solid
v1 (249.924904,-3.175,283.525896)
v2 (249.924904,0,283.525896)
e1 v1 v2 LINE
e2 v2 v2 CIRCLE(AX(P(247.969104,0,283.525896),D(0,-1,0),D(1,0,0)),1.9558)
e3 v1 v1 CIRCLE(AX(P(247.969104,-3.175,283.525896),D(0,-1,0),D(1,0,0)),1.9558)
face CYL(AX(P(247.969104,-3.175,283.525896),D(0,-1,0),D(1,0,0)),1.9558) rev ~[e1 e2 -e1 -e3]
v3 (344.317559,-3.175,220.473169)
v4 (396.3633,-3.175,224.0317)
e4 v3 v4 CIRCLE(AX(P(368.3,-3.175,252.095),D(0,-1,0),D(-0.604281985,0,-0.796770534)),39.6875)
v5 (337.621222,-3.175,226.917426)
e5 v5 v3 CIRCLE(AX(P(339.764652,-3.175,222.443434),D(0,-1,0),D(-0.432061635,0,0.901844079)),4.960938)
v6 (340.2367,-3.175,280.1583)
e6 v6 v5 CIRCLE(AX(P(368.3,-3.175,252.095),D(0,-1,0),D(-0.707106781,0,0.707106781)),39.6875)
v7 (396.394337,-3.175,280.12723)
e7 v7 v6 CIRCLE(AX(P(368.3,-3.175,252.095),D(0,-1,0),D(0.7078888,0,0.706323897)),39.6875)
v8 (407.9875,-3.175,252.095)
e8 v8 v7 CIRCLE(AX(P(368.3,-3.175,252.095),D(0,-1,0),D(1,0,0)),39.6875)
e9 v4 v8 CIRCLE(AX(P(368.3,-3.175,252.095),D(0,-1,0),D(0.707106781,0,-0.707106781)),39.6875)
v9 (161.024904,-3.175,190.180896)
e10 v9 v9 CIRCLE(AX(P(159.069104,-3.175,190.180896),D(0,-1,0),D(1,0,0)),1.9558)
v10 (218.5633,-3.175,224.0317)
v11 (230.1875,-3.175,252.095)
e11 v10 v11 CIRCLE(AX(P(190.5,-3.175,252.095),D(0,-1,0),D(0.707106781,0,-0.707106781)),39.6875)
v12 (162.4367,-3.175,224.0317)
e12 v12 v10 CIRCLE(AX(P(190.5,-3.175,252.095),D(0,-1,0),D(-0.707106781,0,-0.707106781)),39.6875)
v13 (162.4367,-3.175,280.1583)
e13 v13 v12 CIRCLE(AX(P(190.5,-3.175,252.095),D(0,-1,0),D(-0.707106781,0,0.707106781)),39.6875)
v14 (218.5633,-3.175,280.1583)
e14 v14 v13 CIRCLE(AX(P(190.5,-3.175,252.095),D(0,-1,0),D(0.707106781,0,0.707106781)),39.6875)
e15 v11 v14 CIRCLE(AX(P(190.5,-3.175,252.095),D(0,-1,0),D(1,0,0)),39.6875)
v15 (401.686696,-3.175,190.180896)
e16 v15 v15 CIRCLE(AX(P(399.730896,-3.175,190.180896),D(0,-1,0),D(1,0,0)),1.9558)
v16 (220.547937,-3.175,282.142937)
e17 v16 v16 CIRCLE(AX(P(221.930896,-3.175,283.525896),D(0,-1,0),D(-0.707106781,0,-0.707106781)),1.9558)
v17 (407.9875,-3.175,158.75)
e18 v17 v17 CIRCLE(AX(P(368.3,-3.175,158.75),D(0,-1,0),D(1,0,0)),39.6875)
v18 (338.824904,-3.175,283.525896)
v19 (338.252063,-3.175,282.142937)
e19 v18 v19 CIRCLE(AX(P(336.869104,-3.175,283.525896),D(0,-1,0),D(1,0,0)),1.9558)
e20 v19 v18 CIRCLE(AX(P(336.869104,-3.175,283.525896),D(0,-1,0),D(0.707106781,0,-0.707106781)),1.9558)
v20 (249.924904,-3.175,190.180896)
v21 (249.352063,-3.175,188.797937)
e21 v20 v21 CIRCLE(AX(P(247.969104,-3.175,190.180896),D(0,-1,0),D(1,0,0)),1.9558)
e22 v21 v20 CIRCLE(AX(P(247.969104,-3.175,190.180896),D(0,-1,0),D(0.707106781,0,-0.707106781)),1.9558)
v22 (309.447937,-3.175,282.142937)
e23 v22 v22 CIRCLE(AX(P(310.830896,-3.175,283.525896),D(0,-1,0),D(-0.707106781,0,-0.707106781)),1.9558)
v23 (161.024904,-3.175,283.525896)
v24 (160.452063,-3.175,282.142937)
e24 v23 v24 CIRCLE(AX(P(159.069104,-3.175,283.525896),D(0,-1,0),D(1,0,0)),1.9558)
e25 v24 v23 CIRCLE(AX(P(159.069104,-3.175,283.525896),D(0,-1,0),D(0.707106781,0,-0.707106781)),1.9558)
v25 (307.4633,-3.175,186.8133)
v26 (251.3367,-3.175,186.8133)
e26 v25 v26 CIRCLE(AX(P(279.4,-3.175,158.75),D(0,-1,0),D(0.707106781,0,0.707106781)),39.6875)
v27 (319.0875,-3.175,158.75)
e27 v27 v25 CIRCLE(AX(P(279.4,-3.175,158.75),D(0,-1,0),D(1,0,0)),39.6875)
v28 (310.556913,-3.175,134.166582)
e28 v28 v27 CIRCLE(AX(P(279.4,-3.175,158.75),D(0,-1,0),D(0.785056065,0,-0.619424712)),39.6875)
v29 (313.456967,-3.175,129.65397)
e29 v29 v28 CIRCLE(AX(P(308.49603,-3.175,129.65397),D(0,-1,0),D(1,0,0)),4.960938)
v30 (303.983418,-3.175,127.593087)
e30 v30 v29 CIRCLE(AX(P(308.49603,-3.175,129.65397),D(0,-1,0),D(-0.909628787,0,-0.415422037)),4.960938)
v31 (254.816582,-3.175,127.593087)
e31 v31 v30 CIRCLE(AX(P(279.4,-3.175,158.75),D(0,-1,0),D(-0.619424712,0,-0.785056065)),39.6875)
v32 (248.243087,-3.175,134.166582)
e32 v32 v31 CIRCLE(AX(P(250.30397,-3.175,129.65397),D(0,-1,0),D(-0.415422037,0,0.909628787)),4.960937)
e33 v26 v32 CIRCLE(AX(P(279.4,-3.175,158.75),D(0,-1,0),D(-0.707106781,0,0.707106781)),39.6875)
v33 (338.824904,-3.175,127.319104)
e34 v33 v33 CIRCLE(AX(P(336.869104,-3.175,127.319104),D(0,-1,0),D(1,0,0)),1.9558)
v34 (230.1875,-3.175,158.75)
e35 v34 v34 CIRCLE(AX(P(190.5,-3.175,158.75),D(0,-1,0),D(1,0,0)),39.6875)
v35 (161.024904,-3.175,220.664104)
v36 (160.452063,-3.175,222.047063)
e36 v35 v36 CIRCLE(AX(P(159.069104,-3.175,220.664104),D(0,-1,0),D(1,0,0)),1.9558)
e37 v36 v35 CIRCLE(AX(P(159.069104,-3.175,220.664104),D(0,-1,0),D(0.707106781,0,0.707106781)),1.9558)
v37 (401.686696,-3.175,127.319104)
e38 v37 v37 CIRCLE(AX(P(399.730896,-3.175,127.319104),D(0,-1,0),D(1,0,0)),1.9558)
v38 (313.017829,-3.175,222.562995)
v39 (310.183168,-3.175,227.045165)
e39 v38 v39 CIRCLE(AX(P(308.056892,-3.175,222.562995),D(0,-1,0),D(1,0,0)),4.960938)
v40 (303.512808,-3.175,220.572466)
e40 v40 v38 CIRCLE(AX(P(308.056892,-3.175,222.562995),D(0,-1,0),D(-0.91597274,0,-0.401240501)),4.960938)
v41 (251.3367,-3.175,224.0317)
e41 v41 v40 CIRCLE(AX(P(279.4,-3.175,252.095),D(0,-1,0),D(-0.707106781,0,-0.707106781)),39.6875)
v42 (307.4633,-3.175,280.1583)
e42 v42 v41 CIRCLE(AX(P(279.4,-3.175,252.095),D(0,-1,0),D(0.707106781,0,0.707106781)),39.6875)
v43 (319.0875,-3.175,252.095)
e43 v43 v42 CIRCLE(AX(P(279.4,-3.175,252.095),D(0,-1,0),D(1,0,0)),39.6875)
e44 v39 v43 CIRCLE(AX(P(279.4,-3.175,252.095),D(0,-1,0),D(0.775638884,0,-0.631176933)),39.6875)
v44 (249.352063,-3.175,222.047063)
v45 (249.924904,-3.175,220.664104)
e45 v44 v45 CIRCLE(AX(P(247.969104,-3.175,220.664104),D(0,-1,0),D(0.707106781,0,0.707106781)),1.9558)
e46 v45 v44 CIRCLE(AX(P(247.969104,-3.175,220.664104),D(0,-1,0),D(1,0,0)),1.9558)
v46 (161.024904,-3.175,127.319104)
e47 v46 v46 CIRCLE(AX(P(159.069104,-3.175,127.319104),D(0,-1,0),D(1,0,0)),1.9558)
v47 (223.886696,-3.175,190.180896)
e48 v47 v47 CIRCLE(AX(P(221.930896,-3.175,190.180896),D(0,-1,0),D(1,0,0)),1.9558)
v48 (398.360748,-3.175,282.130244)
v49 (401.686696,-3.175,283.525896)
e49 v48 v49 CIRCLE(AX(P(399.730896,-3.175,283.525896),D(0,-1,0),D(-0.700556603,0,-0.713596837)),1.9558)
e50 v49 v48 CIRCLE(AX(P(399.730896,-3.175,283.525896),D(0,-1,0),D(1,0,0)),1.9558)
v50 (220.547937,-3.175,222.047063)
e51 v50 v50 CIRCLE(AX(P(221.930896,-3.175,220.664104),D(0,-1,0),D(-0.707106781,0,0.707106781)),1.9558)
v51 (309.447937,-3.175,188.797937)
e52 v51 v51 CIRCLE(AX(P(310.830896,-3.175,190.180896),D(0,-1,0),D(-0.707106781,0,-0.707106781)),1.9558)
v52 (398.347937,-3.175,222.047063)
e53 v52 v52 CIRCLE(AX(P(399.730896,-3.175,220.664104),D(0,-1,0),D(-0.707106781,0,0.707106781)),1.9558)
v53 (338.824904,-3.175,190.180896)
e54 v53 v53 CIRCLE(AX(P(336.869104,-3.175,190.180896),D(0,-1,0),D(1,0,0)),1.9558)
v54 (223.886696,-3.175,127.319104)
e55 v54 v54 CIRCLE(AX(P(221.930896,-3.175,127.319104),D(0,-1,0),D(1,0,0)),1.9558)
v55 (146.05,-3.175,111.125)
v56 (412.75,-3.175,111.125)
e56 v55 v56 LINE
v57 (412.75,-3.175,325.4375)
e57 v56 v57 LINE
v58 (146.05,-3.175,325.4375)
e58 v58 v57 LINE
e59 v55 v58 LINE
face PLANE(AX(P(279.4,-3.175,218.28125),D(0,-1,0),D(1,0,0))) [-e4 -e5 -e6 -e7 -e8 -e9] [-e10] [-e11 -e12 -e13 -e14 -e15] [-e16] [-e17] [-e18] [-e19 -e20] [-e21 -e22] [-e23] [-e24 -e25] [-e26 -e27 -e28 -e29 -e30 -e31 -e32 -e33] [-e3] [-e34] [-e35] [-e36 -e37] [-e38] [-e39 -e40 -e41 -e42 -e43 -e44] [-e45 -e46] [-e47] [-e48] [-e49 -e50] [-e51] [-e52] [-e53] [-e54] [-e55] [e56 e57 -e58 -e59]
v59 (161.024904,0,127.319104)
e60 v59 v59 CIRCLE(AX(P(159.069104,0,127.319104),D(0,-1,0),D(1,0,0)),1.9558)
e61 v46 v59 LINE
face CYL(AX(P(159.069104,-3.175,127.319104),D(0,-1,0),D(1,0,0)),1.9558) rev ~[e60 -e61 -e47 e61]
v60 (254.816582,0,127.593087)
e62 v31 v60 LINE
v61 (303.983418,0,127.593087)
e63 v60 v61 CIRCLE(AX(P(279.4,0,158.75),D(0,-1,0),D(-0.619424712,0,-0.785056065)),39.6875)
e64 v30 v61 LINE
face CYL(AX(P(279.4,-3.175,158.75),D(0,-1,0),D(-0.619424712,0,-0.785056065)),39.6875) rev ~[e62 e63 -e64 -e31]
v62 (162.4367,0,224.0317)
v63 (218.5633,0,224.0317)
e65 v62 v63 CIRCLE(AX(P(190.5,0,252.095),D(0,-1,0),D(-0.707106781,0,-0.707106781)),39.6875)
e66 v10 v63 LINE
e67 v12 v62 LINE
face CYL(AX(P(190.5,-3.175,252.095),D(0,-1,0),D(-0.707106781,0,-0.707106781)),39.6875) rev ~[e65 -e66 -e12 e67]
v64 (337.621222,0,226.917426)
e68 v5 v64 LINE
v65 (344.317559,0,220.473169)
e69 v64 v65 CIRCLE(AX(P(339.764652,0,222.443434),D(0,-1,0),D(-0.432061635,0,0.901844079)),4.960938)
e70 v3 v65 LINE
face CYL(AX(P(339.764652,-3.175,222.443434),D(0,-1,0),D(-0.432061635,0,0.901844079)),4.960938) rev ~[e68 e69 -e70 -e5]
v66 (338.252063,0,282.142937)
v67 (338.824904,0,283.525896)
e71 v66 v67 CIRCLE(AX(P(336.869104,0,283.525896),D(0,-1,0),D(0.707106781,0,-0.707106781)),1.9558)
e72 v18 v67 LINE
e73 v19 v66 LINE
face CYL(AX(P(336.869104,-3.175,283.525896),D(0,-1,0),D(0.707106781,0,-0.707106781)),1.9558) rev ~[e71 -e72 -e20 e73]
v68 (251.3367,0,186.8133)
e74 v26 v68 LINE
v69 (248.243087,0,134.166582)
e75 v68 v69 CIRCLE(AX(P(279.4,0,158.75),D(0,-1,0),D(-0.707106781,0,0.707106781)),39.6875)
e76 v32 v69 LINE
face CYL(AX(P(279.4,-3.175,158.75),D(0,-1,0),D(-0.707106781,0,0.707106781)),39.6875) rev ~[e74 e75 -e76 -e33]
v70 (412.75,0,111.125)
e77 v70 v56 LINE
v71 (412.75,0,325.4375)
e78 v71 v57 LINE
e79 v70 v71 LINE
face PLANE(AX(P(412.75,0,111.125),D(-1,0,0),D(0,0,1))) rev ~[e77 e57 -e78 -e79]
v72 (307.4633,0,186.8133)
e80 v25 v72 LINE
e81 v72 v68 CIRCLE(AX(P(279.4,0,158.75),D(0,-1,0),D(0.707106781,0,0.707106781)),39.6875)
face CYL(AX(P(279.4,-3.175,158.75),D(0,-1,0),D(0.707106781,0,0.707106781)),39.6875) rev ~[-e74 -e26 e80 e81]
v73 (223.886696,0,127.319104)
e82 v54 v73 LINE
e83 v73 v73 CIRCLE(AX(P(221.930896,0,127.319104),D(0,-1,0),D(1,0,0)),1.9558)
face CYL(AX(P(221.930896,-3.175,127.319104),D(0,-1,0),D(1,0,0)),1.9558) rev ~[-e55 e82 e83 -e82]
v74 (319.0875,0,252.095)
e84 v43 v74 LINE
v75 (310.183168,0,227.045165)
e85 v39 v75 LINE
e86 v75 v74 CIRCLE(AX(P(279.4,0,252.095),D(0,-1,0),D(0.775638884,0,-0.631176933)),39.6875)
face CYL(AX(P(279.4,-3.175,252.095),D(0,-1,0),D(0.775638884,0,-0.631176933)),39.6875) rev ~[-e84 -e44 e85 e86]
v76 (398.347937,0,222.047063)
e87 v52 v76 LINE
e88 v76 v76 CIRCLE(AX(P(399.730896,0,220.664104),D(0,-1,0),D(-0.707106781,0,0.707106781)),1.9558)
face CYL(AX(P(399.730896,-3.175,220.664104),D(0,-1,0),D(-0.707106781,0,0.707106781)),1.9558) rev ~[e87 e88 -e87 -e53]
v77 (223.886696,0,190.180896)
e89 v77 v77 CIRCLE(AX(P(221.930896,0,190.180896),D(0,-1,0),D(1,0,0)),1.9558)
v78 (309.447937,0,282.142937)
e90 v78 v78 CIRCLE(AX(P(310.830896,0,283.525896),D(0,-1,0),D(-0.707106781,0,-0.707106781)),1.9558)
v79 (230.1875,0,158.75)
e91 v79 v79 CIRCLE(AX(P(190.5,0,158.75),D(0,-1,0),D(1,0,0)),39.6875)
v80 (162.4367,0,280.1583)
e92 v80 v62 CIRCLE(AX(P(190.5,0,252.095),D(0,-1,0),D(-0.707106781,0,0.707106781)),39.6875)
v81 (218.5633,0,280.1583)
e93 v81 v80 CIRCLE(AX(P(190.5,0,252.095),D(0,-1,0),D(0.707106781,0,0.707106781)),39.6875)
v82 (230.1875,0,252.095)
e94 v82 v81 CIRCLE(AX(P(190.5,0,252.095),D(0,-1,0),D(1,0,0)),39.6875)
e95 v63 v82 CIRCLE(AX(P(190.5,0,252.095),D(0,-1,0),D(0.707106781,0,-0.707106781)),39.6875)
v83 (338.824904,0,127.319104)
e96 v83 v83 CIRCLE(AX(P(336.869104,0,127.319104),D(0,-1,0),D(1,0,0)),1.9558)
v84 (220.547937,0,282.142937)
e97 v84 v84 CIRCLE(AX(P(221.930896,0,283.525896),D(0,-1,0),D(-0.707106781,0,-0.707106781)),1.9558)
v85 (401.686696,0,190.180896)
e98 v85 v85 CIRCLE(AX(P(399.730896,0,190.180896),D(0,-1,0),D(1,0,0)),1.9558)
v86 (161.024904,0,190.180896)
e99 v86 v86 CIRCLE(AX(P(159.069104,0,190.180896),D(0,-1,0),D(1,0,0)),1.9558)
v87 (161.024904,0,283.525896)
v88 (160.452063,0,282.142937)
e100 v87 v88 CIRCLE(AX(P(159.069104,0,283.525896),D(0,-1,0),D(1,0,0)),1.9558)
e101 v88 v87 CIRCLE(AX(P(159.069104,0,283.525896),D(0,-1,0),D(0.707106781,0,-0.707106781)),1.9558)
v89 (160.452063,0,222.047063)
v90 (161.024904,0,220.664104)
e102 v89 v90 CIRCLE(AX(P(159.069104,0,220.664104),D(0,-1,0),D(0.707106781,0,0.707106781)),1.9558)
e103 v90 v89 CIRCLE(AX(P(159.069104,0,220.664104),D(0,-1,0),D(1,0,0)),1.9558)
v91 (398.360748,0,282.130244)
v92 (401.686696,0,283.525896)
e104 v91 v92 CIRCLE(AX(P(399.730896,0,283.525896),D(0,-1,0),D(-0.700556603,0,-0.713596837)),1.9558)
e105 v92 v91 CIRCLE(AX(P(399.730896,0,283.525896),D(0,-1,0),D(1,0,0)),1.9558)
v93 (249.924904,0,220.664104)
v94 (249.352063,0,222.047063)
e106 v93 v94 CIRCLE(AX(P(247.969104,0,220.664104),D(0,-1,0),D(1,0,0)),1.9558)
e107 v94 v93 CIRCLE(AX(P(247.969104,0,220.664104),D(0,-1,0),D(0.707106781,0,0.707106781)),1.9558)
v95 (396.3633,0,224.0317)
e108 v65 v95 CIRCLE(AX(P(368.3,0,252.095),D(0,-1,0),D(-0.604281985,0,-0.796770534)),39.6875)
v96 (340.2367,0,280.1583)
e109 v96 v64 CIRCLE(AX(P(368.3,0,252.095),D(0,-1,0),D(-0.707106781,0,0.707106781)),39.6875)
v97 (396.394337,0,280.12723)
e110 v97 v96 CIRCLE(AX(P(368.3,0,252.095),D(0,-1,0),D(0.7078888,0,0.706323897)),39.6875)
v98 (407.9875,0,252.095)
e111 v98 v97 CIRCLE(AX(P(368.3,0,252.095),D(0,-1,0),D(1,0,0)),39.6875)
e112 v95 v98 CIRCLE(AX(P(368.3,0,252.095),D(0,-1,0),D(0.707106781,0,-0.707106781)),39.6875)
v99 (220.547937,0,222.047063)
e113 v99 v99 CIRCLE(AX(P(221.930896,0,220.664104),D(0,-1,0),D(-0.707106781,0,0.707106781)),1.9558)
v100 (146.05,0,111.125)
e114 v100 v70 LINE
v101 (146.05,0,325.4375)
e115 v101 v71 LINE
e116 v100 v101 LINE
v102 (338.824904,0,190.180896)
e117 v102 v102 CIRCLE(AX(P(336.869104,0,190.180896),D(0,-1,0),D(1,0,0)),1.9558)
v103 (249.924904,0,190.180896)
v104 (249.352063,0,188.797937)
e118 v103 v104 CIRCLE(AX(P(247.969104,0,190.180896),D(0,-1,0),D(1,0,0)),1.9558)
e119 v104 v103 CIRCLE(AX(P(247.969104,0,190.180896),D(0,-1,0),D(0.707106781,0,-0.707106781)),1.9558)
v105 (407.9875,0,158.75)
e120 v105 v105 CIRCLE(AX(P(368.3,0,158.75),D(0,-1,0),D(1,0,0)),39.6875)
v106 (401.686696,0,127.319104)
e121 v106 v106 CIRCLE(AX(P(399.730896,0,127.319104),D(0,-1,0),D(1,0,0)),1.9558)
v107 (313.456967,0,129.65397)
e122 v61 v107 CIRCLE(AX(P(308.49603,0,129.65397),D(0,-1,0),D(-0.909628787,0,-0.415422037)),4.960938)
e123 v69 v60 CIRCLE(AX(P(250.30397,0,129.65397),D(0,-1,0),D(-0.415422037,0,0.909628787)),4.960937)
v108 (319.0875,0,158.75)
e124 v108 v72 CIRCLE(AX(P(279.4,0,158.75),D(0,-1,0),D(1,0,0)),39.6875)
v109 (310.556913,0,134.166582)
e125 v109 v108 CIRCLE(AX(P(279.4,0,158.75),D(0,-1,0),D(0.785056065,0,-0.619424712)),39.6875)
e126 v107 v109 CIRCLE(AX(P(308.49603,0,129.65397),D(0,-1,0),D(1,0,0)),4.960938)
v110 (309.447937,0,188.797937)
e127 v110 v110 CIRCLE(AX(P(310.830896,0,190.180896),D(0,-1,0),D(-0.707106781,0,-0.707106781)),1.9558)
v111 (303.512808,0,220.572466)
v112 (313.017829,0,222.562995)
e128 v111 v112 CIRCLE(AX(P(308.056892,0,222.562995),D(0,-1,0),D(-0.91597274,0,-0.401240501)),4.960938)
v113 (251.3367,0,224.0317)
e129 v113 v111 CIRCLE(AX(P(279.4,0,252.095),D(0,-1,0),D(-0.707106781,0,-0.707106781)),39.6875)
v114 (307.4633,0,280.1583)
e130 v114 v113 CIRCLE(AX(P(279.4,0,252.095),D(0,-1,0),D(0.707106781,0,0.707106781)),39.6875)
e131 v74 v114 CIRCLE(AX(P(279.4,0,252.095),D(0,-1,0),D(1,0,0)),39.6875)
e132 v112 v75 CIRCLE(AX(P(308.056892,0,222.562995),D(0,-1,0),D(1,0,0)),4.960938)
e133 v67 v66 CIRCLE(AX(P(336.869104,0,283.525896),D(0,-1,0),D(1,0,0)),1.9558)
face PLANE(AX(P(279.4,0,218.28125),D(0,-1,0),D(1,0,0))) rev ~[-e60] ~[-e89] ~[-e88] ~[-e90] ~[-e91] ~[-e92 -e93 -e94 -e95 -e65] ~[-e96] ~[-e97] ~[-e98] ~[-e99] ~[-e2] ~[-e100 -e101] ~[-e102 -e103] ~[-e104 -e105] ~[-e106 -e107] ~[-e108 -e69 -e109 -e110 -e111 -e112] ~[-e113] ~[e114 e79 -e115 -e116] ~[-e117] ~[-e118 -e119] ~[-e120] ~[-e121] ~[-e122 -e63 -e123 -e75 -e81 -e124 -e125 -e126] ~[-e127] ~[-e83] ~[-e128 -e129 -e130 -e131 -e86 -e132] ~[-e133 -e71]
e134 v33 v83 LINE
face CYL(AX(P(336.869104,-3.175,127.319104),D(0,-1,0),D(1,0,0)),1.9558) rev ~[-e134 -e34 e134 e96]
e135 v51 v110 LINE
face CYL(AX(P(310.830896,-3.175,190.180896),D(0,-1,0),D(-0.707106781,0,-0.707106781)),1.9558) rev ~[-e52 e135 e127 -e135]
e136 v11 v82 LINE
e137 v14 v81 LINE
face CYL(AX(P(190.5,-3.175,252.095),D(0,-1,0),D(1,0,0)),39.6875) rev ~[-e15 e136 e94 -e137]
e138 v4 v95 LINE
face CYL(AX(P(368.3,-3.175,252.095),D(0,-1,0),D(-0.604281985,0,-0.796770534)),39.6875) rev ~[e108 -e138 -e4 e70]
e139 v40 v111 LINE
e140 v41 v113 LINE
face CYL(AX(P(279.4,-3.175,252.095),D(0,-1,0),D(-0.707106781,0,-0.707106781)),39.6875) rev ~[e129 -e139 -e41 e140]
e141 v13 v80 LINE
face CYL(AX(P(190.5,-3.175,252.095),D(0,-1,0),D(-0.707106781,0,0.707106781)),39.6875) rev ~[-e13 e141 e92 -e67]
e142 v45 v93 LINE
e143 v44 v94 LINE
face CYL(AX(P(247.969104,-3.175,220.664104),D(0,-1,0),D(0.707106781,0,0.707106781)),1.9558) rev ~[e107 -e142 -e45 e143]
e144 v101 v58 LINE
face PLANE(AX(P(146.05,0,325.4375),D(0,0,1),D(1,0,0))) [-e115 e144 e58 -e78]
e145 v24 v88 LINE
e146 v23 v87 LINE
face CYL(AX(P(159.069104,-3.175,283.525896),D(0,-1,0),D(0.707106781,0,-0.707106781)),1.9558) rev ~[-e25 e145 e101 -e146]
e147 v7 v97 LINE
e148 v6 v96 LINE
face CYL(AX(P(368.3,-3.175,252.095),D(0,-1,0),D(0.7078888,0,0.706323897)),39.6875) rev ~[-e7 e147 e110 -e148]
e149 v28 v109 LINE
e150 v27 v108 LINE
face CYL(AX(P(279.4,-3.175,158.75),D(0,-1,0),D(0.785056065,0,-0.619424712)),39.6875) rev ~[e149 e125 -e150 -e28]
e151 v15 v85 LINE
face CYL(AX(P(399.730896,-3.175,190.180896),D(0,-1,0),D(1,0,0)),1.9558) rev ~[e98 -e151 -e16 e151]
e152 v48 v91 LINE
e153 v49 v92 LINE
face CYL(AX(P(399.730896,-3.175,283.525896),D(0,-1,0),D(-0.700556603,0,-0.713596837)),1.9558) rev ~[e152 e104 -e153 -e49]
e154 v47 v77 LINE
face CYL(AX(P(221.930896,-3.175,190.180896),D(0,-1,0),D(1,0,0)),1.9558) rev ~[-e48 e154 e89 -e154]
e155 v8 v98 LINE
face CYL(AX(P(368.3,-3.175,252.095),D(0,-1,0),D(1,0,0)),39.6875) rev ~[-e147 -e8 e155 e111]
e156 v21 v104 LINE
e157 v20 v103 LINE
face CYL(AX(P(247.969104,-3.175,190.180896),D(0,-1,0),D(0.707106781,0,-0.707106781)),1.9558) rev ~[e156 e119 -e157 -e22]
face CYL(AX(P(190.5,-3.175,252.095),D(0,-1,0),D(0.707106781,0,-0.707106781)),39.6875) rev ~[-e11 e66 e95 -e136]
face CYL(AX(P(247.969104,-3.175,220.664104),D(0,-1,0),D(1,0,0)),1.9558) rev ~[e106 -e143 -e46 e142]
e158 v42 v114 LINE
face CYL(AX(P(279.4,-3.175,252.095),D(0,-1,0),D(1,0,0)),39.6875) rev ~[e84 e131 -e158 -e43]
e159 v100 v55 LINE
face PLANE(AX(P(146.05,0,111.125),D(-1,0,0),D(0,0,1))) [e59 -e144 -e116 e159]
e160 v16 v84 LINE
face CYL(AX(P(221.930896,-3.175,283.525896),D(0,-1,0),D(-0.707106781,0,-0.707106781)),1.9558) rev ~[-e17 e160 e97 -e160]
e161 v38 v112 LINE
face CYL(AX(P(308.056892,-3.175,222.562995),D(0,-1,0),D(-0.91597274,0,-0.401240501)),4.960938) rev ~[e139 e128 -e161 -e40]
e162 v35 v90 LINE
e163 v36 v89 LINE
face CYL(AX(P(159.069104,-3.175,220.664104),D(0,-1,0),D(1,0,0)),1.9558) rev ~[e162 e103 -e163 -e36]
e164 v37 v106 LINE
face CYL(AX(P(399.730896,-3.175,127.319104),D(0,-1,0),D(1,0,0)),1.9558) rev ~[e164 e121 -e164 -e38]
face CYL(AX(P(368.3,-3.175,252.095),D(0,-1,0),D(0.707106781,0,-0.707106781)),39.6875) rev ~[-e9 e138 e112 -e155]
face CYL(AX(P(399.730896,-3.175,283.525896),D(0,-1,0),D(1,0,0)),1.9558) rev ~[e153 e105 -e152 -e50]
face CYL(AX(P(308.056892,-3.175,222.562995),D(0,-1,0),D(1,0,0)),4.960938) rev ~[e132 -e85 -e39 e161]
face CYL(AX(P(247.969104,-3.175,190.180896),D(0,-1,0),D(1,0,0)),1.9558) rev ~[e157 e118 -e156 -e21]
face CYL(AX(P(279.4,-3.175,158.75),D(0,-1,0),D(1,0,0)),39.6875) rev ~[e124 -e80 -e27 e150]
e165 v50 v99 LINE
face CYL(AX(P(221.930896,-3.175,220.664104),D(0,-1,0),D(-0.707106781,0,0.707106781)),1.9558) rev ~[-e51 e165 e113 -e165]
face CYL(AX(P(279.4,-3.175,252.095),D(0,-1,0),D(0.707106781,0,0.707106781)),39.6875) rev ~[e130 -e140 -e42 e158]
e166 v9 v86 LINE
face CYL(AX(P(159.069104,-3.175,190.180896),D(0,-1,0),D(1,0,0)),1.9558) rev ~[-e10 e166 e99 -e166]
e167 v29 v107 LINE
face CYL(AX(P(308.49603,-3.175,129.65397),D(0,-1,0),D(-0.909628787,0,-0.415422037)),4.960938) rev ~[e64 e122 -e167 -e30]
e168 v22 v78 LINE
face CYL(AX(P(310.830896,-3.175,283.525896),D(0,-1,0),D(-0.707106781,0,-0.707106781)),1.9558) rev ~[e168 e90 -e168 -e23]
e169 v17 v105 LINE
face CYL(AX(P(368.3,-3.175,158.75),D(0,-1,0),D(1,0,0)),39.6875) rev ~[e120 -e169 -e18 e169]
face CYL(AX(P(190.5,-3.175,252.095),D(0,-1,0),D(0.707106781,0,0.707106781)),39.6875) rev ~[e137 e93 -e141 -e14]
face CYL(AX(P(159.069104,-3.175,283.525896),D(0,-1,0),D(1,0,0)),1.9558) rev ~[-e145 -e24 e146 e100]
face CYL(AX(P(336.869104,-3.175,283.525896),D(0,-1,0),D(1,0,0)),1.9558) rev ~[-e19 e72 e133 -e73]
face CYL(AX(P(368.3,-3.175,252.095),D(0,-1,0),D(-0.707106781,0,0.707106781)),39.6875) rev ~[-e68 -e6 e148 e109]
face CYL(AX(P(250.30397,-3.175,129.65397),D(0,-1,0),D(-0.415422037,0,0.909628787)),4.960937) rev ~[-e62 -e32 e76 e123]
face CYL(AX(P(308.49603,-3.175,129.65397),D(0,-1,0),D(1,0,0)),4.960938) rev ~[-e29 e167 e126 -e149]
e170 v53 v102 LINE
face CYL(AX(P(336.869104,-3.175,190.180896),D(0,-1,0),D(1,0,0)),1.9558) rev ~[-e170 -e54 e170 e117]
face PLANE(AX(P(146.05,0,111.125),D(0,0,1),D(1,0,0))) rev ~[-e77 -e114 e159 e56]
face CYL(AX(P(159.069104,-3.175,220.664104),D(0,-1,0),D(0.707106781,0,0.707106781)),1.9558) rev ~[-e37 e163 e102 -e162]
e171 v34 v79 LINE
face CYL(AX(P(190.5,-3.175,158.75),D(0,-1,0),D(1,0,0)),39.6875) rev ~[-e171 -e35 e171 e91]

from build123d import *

# Parameters (mm, degrees)
F0_W     = 266.7
F0_H     = 214.3125
F2_DEPTH = 3.175
F3_R     = 39.6875
F3_R_2   = 1.9558
F4_DEPTH = 3.175


with BuildPart() as f2:
    # F0 (on Front) → F2 (new body)
    with BuildSketch(Plane.XZ):
        with Locations((279.4, 218.28125)):
            Rectangle(F0_W, F0_H)
    extrude(amount=F2_DEPTH)

    # F3 (on face) → F4 (cut)
    with BuildSketch(Plane.XZ.offset(3.175)):
        with BuildLine():
            Line((279.4, 158.75), (251.3366996217, 186.8133003783))
            ThreePointArc((251.3366996217, 186.8133003783), (239.7808423583, 161.0780902065), (248.2430874051, 134.1665817306))
            ThreePointArc((248.2430874051, 134.1665817306), (251.1847816274, 134.5360877464), (253.811882715, 133.161882715))
            Line((253.811882715, 133.161882715), (279.4, 158.75))
        make_face()
        with BuildLine():
            Line((279.4, 158.75), (307.4633003783, 186.8133003783))
            ThreePointArc((307.4633003783, 186.8133003783), (279.4, 198.4375), (251.3366996217, 186.8133003783))
            Line((251.3366996217, 186.8133003783), (279.4, 158.75))
        make_face()
        with BuildLine():
            Line((190.5, 252.095), (218.5633003783, 280.1583003783))
            ThreePointArc((218.5633003783, 280.1583003783), (190.5, 291.7825), (162.4366996217, 280.1583003783))
            Line((162.4366996217, 280.1583003783), (190.5, 252.095))
        make_face()
        with BuildLine():
            Line((190.5, 252.095), (162.4366996217, 280.1583003783))
            ThreePointArc((162.4366996217, 280.1583003783), (150.8125, 252.095), (162.4366996217, 224.0316996217))
            Line((162.4366996217, 224.0316996217), (190.5, 252.095))
        make_face()
        with BuildLine():
            ThreePointArc((162.4366996217, 224.0316996217), (190.5, 212.4075), (218.5633003783, 224.0316996217))
            Line((218.5633003783, 224.0316996217), (190.5, 252.095))
            Line((190.5, 252.095), (162.4366996217, 224.0316996217))
        make_face()
        with BuildLine():
            ThreePointArc((218.5633003783, 224.0316996217), (227.1664689465, 236.907251278), (230.1875, 252.095))
            ThreePointArc((230.1875, 252.095), (227.1664689465, 267.282748722), (218.5633003783, 280.1583003783))
            Line((218.5633003783, 280.1583003783), (190.5, 252.095))
            Line((190.5, 252.095), (218.5633003783, 224.0316996217))
        make_face()
        with Locations((368.3, 158.75)):
            Circle(F3_R)
        with BuildLine():
            ThreePointArc((310.1831682173, 227.0451654545), (316.7952179087, 238.8023202922), (319.0875, 252.095))
            ThreePointArc((319.0875, 252.095), (316.0664689465, 267.282748722), (307.4633003783, 280.1583003783))
            Line((307.4633003783, 280.1583003783), (251.3366996217, 224.0316996217))
            ThreePointArc((251.3366996217, 224.0316996217), (276.7745151129, 212.4944383202), (303.5128082548, 220.5724662453))
            ThreePointArc((303.5128082548, 220.5724662453), (304.6021260005, 226.1232613468), (310.1831682173, 227.0451654545))
        make_face()
        with BuildLine():
            ThreePointArc((313.017829269, 222.5629952944), (312.2496966444, 225.2146529185), (310.1831682173, 227.0451654545))
            ThreePointArc((310.1831682173, 227.0451654545), (307.0381261479, 223.6128715809), (303.5128082548, 220.5724662453))
            ThreePointArc((303.5128082548, 220.5724662453), (309.0737463727, 217.7073895038), (313.017829269, 222.5629952944))
        make_face()
        with Locations((190.5, 158.75)):
            Circle(F3_R)
        with BuildLine():
            Line((304.988117285, 133.161882715), (279.4, 158.75))
            Line((279.4, 158.75), (253.811882715, 133.161882715))
            ThreePointArc((253.811882715, 133.161882715), (254.8872787861, 131.552438758), (255.2649076677, 129.6539701677))
            ThreePointArc((255.2649076677, 129.6539701677), (255.1515306266, 128.5994283351), (254.8165817306, 127.5930874051))
            ThreePointArc((254.8165817306, 127.5930874051), (279.4, 119.0625), (303.9834182694, 127.5930874051))
            ThreePointArc((303.9834182694, 127.5930874051), (303.6139122536, 130.5347816274), (304.988117285, 133.161882715))
        make_face()
        with BuildLine():
            ThreePointArc((310.5569125949, 134.1665817306), (316.8942503916, 145.7392796579), (319.0875, 158.75))
            ThreePointArc((319.0875, 158.75), (316.0664689465, 173.937748722), (307.4633003783, 186.8133003783))
            Line((307.4633003783, 186.8133003783), (279.4, 158.75))
            Line((279.4, 158.75), (304.988117285, 133.161882715))
            ThreePointArc((304.988117285, 133.161882715), (307.6152183726, 134.5360877464), (310.5569125949, 134.1665817306))
        make_face()
        with BuildLine():
            ThreePointArc((396.3633003783, 224.0316996217), (404.9664689465, 236.907251278), (407.9875, 252.095))
            ThreePointArc((407.9875, 252.095), (404.9748663618, 267.2624596947), (396.3943367324, 280.1272296619))
            Line((396.3943367324, 280.1272296619), (368.5898315171, 251.8051684829))
            Line((368.5898315171, 251.8051684829), (396.3633003783, 224.0316996217))
        make_face()
        with BuildLine():
            Line((368.5898315171, 251.8051684829), (396.3943367324, 280.1272296619))
            ThreePointArc((396.3943367324, 280.1272296619), (368.3219581687, 291.7824939255), (340.2366996217, 280.1583003783))
            Line((340.2366996217, 280.1583003783), (368.5898315171, 251.8051684829))
        make_face()
        with BuildLine():
            ThreePointArc((338.8249035763, 283.5258964237), (335.0621799866, 284.2743486808), (338.2520630189, 282.1429369811))
            ThreePointArc((338.2520630189, 282.1429369811), (338.6760271659, 282.7774441667), (338.8249035763, 283.5258964237))
        make_face()
        with BuildLine():
            ThreePointArc((161.0249035763, 283.5258964237), (157.2621799866, 284.2743486808), (160.4520630189, 282.1429369811))
            ThreePointArc((160.4520630189, 282.1429369811), (160.8760271659, 282.7774441667), (161.0249035763, 283.5258964237))
        make_face()
        with BuildLine():
            ThreePointArc((251.3366996217, 130.6866996217), (249.7388165944, 132.3812333389), (248.2430874051, 134.1665817306))
            ThreePointArc((248.2430874051, 134.1665817306), (246.7960576204, 126.1460576204), (254.8165817306, 127.5930874051))
            ThreePointArc((254.8165817306, 127.5930874051), (253.0312333389, 129.0888165944), (251.3366996217, 130.6866996217))
        make_face()
        with BuildLine():
            ThreePointArc((253.811882715, 133.161882715), (251.1847816274, 134.5360877464), (248.2430874051, 134.1665817306))
            ThreePointArc((248.2430874051, 134.1665817306), (249.7388165944, 132.3812333389), (251.3366996217, 130.6866996217))
            Line((251.3366996217, 130.6866996217), (253.811882715, 133.161882715))
        make_face()
        with BuildLine():
            ThreePointArc((307.4633003783, 130.6866996217), (309.0611834056, 132.3812333389), (310.5569125949, 134.1665817306))
            ThreePointArc((310.5569125949, 134.1665817306), (307.6152183726, 134.5360877464), (304.988117285, 133.161882715))
            Line((304.988117285, 133.161882715), (307.4633003783, 130.6866996217))
        make_face()
        with BuildLine():
            ThreePointArc((255.2649076677, 129.6539701677), (254.8872787861, 131.552438758), (253.811882715, 133.161882715))
            Line((253.811882715, 133.161882715), (251.3366996217, 130.6866996217))
            ThreePointArc((251.3366996217, 130.6866996217), (253.0312333389, 129.0888165944), (254.8165817306, 127.5930874051))
            ThreePointArc((254.8165817306, 127.5930874051), (255.1515306266, 128.5994283351), (255.2649076677, 129.6539701677))
        make_face()
        with BuildLine():
            ThreePointArc((337.6212215343, 226.9174264851), (336.324666049, 218.8688860877), (344.3175587388, 220.4731694489))
            ThreePointArc((344.3175587388, 220.4731694489), (342.509984, 221.9292457252), (340.7906217682, 223.4885013406))
            ThreePointArc((340.7906217682, 223.4885013406), (339.1554503058, 225.15631259), (337.6212215343, 226.9174264851))
        make_face()
        with BuildLine():
            ThreePointArc((340.7906217682, 223.4885013406), (342.509984, 221.9292457252), (344.3175587388, 220.4731694489))
            ThreePointArc((344.3175587388, 220.4731694489), (344.6225111503, 221.4373984368), (344.7255898037, 222.4434343734))
            ThreePointArc((344.7255898037, 222.4434343734), (344.339159381, 224.3630139833), (343.2400698274, 225.9835436817))
            Line((343.2400698274, 225.9835436817), (340.7906217682, 223.4885013406))
        make_face()
        with BuildLine():
            ThreePointArc((303.9834182694, 127.5930874051), (305.7687666611, 129.0888165944), (307.4633003783, 130.6866996217))
            Line((307.4633003783, 130.6866996217), (304.988117285, 133.161882715))
            ThreePointArc((304.988117285, 133.161882715), (303.6139122536, 130.5347816274), (303.9834182694, 127.5930874051))
        make_face()
        with BuildLine():
            ThreePointArc((343.2400698274, 225.9835436817), (340.5780288776, 227.3372385611), (337.6212215343, 226.9174264851))
            ThreePointArc((337.6212215343, 226.9174264851), (339.1554503058, 225.15631259), (340.7906217682, 223.4885013406))
            Line((340.7906217682, 223.4885013406), (343.2400698274, 225.9835436817))
        make_face()
        with BuildLine():
            ThreePointArc((303.5128082548, 220.5724662453), (307.0381261479, 223.6128715809), (310.1831682173, 227.0451654545))
            ThreePointArc((310.1831682173, 227.0451654545), (304.6021260005, 226.1232613468), (303.5128082548, 220.5724662453))
        make_face()
        with BuildLine():
            ThreePointArc((312.7866964237, 283.5258964237), (310.0824441667, 285.3328200134), (309.4479369811, 282.1429369811))
            ThreePointArc((309.4479369811, 282.1429369811), (311.5793486808, 281.7189728341), (312.7866964237, 283.5258964237))
        make_face()
        with BuildLine():
            ThreePointArc((313.4569673323, 129.6539701677), (312.6694463858, 132.3360393595), (310.5569125949, 134.1665817306))
            ThreePointArc((310.5569125949, 134.1665817306), (309.0611834056, 132.3812333389), (307.4633003783, 130.6866996217))
            ThreePointArc((307.4633003783, 130.6866996217), (305.7687666611, 129.0888165944), (303.9834182694, 127.5930874051))
            ThreePointArc((303.9834182694, 127.5930874051), (309.5505716649, 124.8064097089), (313.4569673323, 129.6539701677))
        make_face()
        with BuildLine():
            ThreePointArc((223.8866964237, 283.5258964237), (221.1824441667, 285.3328200134), (220.5479369811, 282.1429369811))
            ThreePointArc((220.5479369811, 282.1429369811), (222.6793486808, 281.7189728341), (223.8866964237, 283.5258964237))
        make_face()
        with Locations((221.9308964237, 190.1808964237)):
            Circle(F3_R_2)
        with Locations((399.7308964237, 190.1808964237)):
            Circle(F3_R_2)
        with Locations((159.0691035763, 127.3191035763)):
            Circle(F3_R_2)
        with Locations((336.8691035763, 127.3191035763)):
            Circle(F3_R_2)
        with BuildLine():
            ThreePointArc((401.6866964237, 220.6641035763), (400.4793486808, 222.4710271659), (398.3479369811, 222.0470630189))
            ThreePointArc((398.3479369811, 222.0470630189), (398.9824441667, 218.8571799866), (401.6866964237, 220.6641035763))
        make_face()
        with Locations((221.9308964237, 127.3191035763)):
            Circle(F3_R_2)
        with BuildLine():
            ThreePointArc((223.8866964237, 220.6641035763), (222.6793486808, 222.4710271659), (220.5479369811, 222.0470630189))
            ThreePointArc((220.5479369811, 222.0470630189), (221.1824441667, 218.8571799866), (223.8866964237, 220.6641035763))
        make_face()
        with BuildLine():
            ThreePointArc((401.6866964237, 283.5258964237), (398.9741213583, 285.3293500939), (398.3607478192, 282.13024373))
            ThreePointArc((398.3607478192, 282.13024373), (400.4876714892, 281.7224427536), (401.6866964237, 283.5258964237))
        make_face()
        with Locations((399.7308964237, 127.3191035763)):
            Circle(F3_R_2)
        with Locations((159.0691035763, 190.1808964237)):
            Circle(F3_R_2)
        with Locations((336.8691035763, 190.1808964237)):
            Circle(F3_R_2)
        with Locations((247.9691035763, 283.5258964237)):
            Circle(F3_R_2)
        with BuildLine():
            ThreePointArc((249.9249035763, 220.6641035763), (249.7760271659, 221.4125558333), (249.3520630189, 222.0470630189))
            ThreePointArc((249.3520630189, 222.0470630189), (246.1621799866, 219.9156513192), (249.9249035763, 220.6641035763))
        make_face()
        with BuildLine():
            ThreePointArc((161.0249035763, 220.6641035763), (160.8760271659, 221.4125558333), (160.4520630189, 222.0470630189))
            ThreePointArc((160.4520630189, 222.0470630189), (157.2621799866, 219.9156513192), (161.0249035763, 220.6641035763))
        make_face()
        with BuildLine():
            ThreePointArc((249.9249035763, 190.1808964237), (246.1621799866, 190.9293486808), (249.3520630189, 188.7979369811))
            ThreePointArc((249.3520630189, 188.7979369811), (249.7760271659, 189.4324441667), (249.9249035763, 190.1808964237))
        make_face()
        with BuildLine():
            ThreePointArc((312.7866964237, 190.1808964237), (310.0824441667, 191.9878200134), (309.4479369811, 188.7979369811))
            ThreePointArc((309.4479369811, 188.7979369811), (311.5793486808, 188.3739728341), (312.7866964237, 190.1808964237))
        make_face()
        with BuildLine():
            Line((251.3366996217, 224.0316996217), (307.4633003783, 280.1583003783))
            ThreePointArc((307.4633003783, 280.1583003783), (251.3366996217, 280.1583003783), (251.3366996217, 224.0316996217))
        make_face()
        with BuildLine():
            Line((368.5898315171, 251.8051684829), (340.2366996217, 280.1583003783))
            ThreePointArc((340.2366996217, 280.1583003783), (328.6603024739, 254.0423151488), (337.6212215343, 226.9174264851))
            ThreePointArc((337.6212215343, 226.9174264851), (340.5780288776, 227.3372385611), (343.2400698274, 225.9835436817))
            Line((343.2400698274, 225.9835436817), (368.5898315171, 251.8051684829))
        make_face()
        with BuildLine():
            ThreePointArc((344.3175587388, 220.4731694489), (371.007237897, 212.4999432477), (396.3633003783, 224.0316996217))
            Line((396.3633003783, 224.0316996217), (368.5898315171, 251.8051684829))
            Line((368.5898315171, 251.8051684829), (343.2400698274, 225.9835436817))
            ThreePointArc((343.2400698274, 225.9835436817), (344.339159381, 224.3630139833), (344.7255898037, 222.4434343734))
            ThreePointArc((344.7255898037, 222.4434343734), (344.6225111503, 221.4373984368), (344.3175587388, 220.4731694489))
        make_face()
    extrude(amount=-F4_DEPTH, mode=Mode.SUBTRACT)


solid = f2.part
